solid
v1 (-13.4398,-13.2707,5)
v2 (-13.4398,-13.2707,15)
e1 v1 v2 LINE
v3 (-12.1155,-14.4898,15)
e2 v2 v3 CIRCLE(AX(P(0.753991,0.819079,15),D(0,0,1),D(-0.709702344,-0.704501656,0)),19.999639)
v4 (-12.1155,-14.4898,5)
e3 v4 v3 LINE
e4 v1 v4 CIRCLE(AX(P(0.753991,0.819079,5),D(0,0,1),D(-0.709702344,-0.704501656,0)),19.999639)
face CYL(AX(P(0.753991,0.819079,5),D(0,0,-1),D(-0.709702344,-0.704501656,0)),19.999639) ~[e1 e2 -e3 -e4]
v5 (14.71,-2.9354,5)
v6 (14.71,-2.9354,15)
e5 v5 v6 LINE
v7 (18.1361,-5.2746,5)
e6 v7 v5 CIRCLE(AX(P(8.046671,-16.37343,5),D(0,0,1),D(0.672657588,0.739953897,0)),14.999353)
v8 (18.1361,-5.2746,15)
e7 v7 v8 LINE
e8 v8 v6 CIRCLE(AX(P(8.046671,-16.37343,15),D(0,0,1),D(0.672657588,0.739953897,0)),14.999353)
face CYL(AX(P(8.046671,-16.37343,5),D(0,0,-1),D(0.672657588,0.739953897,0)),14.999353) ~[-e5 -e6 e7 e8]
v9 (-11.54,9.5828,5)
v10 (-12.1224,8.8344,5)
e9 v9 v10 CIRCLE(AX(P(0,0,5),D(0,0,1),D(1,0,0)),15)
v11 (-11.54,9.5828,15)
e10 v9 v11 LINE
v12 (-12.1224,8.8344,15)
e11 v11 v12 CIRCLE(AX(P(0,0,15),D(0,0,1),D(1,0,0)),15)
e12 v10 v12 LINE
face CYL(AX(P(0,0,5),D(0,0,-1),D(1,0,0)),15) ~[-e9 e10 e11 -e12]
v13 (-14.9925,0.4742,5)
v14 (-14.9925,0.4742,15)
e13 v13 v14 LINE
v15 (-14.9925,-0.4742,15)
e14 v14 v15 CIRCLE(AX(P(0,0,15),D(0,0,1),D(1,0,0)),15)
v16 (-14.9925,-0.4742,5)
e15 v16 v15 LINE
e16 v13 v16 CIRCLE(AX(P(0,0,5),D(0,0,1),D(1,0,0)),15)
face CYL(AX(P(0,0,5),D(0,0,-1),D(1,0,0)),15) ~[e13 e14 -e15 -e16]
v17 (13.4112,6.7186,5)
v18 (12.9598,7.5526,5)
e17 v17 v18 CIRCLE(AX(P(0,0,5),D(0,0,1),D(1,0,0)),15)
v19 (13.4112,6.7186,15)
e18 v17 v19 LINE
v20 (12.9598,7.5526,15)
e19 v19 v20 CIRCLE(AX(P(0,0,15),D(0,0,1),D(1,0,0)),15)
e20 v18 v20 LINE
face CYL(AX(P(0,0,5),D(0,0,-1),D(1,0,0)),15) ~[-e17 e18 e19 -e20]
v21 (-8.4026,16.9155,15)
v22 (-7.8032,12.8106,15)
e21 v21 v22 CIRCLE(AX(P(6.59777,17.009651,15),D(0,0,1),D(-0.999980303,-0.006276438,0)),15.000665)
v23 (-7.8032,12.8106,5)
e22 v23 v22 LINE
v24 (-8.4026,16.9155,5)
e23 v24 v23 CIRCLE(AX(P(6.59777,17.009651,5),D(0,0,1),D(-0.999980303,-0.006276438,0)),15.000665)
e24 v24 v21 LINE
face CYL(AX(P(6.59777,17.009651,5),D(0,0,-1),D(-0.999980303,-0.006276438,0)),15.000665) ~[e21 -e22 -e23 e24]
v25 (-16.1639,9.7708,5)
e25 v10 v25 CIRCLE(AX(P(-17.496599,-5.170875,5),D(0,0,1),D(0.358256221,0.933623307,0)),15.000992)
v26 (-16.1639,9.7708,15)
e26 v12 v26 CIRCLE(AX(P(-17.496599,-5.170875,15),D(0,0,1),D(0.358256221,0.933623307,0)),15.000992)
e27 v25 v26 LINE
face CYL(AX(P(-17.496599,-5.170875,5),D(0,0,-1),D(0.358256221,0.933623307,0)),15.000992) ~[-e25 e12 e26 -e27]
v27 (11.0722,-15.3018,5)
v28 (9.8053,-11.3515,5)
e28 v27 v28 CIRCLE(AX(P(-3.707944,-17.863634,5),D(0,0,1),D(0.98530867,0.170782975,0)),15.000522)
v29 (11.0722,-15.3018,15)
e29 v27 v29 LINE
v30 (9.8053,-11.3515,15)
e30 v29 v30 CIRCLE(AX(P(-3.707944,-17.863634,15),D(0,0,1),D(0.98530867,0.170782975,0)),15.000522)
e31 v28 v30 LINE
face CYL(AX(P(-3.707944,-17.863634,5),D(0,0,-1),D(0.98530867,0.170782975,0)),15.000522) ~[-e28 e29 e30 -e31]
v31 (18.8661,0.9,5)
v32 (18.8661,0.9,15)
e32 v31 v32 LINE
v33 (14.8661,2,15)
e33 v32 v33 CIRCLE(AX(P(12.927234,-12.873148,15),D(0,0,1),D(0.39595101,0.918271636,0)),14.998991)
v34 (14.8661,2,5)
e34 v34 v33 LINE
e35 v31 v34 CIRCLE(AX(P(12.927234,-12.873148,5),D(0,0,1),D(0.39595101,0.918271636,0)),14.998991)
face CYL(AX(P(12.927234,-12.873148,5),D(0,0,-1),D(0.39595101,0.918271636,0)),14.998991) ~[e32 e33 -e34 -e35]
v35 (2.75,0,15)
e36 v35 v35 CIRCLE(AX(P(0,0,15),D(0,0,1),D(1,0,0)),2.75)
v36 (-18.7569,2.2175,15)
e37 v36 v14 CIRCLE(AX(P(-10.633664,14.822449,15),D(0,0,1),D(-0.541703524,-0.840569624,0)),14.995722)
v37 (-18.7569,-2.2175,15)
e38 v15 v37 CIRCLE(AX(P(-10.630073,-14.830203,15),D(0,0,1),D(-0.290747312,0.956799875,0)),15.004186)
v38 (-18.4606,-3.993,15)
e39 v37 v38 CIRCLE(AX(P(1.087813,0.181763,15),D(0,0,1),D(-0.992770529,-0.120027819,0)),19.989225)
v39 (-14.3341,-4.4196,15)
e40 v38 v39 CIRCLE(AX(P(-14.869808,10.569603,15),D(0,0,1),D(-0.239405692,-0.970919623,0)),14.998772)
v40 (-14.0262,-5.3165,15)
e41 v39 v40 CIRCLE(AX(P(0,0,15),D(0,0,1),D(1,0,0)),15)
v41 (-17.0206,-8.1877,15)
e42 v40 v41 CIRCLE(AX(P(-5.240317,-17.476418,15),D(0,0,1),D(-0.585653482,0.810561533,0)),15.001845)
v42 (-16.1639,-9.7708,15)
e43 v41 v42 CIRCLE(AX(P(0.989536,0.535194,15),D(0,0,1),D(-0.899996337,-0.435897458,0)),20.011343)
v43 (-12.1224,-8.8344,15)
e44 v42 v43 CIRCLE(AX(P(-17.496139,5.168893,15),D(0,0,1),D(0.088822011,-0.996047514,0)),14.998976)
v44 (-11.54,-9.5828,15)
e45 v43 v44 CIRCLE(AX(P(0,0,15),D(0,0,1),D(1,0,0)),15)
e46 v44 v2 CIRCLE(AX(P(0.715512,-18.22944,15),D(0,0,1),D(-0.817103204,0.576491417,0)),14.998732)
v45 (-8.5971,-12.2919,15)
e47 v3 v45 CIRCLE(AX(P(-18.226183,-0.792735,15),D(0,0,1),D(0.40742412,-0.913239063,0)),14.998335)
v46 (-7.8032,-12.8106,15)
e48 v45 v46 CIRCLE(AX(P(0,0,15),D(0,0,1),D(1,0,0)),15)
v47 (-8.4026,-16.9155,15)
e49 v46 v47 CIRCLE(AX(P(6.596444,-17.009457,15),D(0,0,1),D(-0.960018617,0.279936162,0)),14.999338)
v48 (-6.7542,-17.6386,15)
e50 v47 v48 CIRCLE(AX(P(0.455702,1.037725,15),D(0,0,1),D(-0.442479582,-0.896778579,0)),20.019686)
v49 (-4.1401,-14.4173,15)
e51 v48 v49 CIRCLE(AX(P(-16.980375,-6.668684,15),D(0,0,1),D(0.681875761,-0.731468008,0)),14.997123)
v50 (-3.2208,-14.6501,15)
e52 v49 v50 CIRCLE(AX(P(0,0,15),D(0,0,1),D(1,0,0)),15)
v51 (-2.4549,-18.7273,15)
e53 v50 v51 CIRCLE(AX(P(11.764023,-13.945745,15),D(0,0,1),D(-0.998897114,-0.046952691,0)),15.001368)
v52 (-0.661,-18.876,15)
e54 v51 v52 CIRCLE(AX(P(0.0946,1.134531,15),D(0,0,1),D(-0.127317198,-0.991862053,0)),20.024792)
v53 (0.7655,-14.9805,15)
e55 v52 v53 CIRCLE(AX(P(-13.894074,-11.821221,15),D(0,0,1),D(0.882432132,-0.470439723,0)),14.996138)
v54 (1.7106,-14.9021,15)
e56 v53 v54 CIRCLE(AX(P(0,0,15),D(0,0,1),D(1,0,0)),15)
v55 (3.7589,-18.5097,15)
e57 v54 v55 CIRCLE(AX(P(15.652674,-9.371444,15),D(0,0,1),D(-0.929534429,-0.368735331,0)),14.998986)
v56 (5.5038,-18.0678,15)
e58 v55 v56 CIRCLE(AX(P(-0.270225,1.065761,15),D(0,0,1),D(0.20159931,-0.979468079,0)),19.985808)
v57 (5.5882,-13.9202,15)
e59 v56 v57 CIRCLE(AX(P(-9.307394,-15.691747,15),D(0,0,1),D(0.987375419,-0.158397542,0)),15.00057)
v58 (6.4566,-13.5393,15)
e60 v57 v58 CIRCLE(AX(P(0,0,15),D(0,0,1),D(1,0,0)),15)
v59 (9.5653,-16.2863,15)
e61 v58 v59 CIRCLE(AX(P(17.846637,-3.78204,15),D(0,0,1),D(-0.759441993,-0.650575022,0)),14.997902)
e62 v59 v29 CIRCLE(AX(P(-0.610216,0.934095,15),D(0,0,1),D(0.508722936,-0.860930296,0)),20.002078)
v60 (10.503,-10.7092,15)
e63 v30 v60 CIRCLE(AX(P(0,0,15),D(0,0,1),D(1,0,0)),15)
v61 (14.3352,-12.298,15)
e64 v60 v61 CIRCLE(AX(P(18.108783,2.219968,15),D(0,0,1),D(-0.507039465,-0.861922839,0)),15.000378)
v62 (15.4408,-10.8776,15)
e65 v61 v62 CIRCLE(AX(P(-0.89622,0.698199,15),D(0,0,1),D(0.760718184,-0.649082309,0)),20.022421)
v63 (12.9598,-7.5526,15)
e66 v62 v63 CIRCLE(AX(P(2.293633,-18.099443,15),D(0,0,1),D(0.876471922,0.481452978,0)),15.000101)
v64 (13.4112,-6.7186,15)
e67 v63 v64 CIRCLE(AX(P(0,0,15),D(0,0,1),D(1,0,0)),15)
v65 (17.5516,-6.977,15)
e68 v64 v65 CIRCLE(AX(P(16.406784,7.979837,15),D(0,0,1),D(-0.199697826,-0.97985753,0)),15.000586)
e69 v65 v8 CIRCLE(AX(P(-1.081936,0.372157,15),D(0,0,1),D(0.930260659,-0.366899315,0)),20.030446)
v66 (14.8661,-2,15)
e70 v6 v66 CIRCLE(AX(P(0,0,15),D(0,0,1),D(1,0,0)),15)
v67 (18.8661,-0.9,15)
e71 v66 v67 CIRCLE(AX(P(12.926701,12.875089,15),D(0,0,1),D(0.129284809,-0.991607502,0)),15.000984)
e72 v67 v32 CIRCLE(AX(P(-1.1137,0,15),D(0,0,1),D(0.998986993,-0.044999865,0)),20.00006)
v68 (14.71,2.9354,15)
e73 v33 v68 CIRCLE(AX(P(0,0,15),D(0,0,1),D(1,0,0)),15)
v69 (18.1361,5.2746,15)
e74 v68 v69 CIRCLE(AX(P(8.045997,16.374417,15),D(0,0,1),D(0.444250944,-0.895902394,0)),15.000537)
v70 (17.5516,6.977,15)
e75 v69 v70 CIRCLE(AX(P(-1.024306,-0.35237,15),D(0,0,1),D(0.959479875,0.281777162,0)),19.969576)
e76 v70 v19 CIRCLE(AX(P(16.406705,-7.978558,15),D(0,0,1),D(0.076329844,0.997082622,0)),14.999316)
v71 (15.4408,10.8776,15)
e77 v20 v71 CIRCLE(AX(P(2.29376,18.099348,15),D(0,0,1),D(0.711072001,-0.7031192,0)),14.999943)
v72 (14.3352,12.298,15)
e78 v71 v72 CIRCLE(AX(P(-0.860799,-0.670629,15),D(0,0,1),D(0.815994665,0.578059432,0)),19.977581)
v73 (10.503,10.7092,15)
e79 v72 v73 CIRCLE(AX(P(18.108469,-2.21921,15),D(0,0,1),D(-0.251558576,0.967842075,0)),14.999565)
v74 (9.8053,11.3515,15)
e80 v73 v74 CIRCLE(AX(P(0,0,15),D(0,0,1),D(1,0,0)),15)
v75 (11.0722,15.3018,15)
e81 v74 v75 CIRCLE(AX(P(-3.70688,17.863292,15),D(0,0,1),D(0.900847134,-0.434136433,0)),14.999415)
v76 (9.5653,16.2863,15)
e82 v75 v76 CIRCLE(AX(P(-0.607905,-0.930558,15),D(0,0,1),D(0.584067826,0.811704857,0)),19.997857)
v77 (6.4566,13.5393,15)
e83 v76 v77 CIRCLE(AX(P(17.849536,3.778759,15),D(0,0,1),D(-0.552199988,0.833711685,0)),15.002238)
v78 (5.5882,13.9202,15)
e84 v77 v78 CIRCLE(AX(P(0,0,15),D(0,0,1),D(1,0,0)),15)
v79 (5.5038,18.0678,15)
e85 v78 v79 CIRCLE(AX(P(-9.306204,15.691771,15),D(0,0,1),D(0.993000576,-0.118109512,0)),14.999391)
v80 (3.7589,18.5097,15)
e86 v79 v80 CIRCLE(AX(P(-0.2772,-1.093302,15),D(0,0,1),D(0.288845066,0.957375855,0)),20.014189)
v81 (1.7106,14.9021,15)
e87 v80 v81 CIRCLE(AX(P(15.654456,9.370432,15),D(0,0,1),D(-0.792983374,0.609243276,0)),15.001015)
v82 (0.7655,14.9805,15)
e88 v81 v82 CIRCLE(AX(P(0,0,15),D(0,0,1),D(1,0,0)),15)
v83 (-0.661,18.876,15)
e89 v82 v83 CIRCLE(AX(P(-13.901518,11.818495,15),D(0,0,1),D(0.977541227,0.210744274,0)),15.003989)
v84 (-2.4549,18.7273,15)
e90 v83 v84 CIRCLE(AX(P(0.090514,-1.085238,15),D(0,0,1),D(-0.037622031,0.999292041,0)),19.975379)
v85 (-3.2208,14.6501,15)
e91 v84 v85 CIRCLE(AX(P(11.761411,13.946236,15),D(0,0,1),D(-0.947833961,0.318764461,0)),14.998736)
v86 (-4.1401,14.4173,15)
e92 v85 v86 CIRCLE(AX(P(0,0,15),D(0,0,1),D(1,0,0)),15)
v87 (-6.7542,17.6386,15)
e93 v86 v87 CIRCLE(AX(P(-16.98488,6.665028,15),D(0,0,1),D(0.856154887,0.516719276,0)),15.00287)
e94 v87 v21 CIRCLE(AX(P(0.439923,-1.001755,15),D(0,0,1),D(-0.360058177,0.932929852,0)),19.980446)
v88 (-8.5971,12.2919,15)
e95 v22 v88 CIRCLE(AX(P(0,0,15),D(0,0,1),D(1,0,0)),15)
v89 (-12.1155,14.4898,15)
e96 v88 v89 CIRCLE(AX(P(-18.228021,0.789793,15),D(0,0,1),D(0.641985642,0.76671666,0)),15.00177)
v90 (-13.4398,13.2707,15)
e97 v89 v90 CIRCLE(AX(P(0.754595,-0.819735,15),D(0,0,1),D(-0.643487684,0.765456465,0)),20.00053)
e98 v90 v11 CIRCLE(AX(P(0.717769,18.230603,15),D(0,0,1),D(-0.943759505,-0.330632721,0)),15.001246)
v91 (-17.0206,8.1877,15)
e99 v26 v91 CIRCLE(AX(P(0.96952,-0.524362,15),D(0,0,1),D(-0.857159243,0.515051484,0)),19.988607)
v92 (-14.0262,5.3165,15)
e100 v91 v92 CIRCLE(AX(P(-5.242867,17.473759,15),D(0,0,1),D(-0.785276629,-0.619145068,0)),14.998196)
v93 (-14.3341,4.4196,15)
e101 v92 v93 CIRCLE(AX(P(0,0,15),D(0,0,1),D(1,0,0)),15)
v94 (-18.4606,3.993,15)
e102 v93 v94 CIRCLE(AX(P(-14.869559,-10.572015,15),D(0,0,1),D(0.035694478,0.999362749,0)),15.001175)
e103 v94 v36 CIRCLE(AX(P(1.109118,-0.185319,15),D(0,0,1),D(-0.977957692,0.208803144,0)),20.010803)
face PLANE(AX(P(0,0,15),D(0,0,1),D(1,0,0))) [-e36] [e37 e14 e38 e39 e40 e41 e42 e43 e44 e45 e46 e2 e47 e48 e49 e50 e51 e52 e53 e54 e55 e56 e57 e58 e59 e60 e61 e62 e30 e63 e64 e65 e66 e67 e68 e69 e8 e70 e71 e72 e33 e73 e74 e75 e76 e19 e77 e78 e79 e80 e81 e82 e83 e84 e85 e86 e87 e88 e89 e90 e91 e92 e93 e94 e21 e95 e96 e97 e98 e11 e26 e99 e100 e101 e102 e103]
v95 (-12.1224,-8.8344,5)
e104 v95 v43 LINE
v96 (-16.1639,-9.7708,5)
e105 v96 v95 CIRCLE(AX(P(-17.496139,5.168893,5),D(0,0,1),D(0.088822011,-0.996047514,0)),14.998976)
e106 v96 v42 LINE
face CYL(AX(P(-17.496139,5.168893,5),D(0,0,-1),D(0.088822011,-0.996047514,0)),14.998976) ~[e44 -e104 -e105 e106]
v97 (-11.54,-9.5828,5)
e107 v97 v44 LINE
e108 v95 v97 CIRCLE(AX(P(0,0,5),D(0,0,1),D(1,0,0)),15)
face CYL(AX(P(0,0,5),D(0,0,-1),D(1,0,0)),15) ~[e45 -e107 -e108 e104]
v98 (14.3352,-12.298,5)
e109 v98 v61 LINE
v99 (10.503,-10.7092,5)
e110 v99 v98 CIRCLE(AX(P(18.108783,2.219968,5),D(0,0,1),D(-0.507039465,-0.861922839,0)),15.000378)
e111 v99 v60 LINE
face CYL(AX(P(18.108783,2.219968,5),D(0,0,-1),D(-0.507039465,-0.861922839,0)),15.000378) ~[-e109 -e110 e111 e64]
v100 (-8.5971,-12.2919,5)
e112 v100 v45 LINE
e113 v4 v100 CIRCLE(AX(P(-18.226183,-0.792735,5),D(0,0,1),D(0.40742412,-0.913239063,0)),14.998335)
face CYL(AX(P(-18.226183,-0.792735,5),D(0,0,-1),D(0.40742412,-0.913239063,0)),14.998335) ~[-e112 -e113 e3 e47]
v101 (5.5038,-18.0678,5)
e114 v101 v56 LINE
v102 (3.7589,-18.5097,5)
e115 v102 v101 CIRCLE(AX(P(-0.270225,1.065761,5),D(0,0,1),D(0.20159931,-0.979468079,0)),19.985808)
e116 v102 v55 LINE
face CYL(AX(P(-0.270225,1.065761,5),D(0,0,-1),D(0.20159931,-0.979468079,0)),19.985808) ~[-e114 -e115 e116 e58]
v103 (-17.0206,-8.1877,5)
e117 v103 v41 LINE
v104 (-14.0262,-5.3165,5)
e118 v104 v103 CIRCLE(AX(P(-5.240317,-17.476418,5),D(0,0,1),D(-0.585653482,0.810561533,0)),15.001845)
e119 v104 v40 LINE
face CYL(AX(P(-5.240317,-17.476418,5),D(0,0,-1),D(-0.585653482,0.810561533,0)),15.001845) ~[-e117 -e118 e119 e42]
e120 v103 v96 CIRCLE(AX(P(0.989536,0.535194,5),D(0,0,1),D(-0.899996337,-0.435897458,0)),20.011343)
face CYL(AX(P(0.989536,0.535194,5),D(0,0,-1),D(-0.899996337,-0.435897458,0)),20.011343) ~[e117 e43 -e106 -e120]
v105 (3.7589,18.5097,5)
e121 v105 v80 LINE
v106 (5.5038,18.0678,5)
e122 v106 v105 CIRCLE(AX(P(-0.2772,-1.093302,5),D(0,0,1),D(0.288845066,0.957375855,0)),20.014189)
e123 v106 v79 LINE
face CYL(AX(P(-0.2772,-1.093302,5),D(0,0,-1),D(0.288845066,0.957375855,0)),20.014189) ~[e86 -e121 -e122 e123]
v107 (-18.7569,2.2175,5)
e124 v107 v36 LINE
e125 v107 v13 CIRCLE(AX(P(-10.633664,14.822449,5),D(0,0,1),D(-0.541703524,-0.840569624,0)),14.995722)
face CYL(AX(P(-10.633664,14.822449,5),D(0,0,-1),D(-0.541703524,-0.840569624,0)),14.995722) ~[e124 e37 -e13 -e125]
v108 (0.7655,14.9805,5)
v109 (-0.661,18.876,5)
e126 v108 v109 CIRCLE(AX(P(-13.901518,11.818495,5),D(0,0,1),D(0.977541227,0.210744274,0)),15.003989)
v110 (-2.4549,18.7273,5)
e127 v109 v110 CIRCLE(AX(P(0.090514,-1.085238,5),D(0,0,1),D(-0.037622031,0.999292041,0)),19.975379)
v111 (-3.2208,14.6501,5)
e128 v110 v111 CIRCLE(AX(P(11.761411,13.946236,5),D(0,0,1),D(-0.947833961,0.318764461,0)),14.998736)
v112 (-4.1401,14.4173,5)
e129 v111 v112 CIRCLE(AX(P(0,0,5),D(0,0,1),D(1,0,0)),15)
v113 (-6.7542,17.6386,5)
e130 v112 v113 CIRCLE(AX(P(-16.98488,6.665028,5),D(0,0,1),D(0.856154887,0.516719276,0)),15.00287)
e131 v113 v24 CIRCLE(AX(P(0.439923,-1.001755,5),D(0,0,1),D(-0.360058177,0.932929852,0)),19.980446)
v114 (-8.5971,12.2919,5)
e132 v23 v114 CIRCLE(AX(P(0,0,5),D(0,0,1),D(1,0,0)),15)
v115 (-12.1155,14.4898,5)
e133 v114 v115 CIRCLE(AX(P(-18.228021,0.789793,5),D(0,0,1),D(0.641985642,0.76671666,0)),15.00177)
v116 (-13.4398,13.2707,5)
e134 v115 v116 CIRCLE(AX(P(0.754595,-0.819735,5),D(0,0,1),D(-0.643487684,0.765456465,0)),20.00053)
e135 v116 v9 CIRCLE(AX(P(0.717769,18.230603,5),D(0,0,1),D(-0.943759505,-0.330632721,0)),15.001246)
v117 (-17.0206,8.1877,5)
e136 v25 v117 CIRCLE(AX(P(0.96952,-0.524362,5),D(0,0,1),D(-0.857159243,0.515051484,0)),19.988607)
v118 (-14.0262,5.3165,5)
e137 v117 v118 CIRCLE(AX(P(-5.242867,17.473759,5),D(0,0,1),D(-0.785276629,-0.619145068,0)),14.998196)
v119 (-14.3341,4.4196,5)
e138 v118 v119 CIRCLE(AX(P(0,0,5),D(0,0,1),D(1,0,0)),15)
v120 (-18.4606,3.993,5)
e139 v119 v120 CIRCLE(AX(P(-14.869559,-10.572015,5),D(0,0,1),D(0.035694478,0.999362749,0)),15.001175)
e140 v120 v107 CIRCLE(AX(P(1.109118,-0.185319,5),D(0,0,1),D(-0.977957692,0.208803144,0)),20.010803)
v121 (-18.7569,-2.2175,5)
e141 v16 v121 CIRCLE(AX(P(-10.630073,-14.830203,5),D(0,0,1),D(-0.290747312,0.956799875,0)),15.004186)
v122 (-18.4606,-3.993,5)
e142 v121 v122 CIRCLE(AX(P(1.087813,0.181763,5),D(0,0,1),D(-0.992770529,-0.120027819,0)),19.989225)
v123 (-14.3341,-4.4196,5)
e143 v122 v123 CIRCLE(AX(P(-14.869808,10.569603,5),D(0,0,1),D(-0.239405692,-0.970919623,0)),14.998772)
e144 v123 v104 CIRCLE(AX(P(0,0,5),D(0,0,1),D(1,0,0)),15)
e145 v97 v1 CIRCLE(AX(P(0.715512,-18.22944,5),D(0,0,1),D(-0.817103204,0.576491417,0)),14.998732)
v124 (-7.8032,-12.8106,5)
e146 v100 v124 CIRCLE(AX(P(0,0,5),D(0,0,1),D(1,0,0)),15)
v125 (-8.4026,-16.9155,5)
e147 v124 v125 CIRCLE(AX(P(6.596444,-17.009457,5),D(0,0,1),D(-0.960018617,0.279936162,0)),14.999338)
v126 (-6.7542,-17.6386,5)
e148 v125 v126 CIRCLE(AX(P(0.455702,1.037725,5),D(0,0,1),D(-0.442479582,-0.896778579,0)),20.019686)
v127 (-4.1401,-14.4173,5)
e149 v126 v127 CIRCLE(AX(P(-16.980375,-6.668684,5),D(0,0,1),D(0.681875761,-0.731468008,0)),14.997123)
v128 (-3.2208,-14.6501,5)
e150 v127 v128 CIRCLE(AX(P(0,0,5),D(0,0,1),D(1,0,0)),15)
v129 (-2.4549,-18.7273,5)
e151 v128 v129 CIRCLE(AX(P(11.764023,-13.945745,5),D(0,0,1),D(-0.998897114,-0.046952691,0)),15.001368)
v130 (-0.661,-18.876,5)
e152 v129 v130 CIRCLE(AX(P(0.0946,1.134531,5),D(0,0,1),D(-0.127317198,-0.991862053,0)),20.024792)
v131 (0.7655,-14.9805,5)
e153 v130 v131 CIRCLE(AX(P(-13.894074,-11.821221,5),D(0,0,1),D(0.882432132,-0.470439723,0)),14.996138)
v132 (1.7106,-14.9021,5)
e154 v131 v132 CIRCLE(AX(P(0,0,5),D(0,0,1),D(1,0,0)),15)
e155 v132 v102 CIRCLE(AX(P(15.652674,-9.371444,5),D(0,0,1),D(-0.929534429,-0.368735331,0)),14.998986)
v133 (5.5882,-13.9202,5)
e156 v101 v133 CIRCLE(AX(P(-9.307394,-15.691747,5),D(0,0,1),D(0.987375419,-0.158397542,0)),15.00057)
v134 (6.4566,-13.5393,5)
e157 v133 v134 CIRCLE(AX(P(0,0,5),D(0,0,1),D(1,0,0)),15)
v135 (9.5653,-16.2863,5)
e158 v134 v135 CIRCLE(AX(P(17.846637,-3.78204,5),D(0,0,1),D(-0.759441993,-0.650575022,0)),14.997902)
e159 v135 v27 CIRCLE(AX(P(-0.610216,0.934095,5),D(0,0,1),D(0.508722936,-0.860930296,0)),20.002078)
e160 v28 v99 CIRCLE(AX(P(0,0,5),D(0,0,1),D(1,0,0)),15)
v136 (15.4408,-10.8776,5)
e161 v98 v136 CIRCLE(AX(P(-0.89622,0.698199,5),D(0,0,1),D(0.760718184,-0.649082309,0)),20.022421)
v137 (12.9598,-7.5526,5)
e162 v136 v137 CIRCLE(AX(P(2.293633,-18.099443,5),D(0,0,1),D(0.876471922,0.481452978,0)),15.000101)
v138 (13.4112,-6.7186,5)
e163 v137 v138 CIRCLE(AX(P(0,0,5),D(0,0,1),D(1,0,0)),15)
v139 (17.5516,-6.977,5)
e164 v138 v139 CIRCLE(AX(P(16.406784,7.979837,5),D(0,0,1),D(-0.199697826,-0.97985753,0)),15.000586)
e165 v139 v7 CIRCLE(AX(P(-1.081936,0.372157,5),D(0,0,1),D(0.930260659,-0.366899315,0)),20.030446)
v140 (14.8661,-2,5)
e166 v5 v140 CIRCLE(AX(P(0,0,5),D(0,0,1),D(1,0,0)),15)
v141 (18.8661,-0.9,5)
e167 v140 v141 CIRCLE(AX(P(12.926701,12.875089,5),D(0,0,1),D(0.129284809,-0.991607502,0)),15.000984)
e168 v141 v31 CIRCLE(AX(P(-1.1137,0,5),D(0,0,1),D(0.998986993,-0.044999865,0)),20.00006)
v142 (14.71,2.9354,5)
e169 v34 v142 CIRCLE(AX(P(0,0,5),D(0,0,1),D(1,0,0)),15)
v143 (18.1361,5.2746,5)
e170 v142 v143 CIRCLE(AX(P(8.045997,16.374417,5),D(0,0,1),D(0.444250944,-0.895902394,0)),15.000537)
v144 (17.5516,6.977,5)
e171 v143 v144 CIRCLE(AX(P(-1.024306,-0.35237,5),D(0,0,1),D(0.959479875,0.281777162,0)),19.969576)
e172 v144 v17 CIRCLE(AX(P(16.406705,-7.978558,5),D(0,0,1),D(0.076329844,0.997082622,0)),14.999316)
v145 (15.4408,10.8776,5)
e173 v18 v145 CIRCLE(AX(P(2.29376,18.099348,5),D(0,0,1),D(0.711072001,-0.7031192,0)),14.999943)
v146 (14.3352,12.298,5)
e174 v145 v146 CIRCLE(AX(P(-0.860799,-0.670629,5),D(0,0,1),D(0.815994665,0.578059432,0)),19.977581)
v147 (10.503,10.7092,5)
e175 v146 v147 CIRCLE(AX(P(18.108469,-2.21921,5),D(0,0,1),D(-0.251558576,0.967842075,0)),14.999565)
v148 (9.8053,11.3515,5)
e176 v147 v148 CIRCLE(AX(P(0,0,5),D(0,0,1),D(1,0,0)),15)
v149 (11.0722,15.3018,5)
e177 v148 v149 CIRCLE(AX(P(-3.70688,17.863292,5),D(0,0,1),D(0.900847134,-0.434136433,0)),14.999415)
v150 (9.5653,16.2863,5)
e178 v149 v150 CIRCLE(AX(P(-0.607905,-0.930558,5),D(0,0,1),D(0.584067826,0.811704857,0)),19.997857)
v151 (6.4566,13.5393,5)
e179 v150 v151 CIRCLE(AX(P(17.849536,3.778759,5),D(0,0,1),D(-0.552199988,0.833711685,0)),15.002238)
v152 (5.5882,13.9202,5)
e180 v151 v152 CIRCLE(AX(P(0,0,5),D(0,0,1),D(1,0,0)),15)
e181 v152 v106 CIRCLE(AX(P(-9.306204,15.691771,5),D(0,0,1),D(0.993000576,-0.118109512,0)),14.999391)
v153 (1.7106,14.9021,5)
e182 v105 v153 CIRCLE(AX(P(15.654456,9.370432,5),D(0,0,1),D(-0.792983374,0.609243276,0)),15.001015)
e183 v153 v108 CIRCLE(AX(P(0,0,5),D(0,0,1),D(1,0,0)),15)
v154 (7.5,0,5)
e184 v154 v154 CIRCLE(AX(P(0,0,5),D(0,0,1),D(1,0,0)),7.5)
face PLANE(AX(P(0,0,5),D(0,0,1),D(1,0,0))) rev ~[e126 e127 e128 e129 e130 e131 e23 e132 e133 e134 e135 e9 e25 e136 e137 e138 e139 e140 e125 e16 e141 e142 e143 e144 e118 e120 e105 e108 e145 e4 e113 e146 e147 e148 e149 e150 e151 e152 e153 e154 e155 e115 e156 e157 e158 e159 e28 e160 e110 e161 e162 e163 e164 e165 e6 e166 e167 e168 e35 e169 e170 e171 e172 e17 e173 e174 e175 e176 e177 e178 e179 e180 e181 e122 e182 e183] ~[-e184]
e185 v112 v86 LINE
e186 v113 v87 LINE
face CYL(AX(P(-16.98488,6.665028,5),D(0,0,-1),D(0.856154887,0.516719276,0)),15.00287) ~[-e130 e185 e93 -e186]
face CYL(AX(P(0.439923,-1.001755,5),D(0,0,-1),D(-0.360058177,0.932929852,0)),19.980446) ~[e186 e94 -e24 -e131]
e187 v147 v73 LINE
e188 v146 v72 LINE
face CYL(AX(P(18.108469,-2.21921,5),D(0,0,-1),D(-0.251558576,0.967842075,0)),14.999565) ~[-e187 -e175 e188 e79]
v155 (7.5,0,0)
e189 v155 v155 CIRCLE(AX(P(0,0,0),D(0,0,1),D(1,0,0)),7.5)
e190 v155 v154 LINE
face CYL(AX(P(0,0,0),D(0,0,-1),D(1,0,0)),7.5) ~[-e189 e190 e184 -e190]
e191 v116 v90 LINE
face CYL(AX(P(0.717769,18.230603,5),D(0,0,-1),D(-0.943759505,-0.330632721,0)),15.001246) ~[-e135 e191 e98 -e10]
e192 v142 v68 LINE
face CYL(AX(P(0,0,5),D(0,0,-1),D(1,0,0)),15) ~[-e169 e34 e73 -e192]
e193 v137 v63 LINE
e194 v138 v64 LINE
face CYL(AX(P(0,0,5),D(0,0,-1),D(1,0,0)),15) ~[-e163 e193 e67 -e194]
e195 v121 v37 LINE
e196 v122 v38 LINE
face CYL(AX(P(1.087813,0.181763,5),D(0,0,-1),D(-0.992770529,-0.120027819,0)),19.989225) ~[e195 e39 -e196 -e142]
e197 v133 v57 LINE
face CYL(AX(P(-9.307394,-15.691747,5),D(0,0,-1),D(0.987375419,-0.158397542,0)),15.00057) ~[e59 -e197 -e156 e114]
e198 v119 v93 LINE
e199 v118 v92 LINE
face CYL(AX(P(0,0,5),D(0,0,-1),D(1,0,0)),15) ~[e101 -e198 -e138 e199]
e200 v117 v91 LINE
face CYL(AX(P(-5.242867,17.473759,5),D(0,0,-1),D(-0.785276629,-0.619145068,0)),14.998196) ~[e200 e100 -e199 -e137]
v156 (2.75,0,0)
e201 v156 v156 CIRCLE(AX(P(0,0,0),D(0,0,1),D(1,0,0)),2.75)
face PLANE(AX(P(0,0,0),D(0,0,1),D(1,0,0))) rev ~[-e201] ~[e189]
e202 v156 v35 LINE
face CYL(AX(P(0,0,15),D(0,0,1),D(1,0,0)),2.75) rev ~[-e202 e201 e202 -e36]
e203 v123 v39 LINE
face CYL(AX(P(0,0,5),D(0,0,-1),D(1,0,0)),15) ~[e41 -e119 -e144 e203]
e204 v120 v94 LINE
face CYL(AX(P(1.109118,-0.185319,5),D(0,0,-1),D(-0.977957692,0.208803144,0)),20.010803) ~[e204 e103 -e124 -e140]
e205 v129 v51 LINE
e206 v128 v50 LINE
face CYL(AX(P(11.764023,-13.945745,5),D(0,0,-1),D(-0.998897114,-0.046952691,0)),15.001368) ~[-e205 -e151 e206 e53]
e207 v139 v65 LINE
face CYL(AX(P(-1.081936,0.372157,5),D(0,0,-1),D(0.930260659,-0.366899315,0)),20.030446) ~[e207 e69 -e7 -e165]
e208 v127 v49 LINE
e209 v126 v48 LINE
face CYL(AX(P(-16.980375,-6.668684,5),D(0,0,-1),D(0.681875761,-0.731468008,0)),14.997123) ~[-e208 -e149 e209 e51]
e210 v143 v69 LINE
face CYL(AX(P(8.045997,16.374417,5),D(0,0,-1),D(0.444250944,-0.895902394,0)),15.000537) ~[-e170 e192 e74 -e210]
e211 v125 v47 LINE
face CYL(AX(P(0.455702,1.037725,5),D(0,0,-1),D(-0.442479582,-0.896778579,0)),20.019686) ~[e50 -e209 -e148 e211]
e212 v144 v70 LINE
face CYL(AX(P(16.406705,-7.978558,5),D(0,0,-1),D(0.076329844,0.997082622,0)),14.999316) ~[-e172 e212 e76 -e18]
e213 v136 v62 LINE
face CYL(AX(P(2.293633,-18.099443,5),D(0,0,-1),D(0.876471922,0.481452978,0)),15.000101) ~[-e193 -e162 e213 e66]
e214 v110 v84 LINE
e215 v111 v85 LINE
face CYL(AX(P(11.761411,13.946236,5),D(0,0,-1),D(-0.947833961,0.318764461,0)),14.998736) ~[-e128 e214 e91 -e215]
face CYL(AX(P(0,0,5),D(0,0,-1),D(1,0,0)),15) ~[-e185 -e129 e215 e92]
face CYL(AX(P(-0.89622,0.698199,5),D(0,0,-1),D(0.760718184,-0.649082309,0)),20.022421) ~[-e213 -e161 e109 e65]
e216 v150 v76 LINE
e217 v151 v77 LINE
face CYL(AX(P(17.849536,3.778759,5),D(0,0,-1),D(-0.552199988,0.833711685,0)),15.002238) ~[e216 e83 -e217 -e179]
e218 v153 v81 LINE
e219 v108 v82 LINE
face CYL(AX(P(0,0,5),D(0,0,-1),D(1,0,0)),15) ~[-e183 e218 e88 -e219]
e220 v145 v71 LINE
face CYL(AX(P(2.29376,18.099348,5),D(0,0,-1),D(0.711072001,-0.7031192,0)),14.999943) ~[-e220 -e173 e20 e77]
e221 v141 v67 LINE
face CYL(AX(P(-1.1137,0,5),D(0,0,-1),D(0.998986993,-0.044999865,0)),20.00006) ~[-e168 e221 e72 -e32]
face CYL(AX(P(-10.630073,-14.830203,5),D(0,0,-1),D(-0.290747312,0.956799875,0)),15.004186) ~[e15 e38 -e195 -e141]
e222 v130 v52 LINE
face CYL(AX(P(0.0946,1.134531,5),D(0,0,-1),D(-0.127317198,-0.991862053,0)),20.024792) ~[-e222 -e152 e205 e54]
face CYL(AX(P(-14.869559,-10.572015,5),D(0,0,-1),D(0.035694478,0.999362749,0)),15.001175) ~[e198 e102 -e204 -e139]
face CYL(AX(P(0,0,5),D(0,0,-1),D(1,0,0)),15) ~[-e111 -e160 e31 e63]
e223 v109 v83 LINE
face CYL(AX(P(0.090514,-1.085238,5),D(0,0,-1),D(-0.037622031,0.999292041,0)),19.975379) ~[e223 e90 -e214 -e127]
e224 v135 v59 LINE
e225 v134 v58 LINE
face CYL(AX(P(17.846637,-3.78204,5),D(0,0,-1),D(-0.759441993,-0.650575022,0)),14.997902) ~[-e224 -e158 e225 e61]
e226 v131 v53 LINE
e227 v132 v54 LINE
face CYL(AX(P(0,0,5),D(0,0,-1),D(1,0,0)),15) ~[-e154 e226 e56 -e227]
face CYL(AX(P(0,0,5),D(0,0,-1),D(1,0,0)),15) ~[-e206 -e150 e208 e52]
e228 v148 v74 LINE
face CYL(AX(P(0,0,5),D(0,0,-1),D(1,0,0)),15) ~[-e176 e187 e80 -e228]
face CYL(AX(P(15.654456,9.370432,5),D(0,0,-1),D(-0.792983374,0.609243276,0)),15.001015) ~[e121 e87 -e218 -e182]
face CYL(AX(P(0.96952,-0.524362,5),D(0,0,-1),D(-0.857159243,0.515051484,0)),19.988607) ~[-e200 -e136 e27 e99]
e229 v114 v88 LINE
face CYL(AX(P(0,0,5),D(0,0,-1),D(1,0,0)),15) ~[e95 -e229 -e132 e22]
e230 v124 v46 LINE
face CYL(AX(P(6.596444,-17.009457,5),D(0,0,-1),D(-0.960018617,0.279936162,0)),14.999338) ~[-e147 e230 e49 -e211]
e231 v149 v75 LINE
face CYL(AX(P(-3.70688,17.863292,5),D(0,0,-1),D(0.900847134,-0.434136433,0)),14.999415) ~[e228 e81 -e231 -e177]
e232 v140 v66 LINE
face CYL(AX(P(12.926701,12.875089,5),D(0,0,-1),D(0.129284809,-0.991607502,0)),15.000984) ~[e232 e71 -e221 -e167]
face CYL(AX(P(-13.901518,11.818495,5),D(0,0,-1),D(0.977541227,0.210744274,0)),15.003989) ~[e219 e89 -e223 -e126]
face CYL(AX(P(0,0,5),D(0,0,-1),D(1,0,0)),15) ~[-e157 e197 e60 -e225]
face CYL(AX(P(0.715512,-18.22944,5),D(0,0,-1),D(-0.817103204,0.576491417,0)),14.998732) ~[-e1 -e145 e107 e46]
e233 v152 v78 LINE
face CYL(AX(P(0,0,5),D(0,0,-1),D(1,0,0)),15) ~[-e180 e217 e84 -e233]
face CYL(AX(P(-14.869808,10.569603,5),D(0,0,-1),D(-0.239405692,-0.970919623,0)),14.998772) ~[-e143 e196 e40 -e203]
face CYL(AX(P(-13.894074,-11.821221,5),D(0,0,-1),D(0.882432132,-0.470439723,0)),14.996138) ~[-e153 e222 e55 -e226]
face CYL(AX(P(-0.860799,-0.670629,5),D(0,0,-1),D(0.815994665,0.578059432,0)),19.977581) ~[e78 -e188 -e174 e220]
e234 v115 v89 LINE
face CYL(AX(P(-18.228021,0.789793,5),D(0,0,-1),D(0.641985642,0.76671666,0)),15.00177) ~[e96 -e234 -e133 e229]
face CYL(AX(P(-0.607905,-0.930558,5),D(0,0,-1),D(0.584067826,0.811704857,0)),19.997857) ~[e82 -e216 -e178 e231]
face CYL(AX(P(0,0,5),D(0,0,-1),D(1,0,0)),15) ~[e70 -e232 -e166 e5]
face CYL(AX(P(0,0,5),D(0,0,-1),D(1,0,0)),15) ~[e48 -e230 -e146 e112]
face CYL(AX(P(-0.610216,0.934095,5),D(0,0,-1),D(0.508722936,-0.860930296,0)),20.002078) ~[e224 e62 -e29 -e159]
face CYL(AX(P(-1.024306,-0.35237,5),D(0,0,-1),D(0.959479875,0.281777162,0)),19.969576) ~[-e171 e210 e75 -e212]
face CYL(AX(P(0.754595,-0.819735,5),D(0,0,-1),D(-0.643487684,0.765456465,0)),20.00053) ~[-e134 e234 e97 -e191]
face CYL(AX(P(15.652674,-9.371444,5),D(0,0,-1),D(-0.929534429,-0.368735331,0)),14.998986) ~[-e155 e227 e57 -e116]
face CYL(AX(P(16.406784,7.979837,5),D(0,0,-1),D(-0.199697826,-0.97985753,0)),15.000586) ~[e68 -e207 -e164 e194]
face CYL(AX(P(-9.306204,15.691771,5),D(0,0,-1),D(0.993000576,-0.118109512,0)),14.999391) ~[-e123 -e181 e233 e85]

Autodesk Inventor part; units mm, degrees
ref_plane "YZ Plane" through (0, 0, 0) normal (1, 0, 0) x (0, 1, 0)
ref_plane "XZ Plane" through (0, 0, 0) normal (0, 1, 0) x (-1, 0, 0)
ref_plane "XY Plane" through (0, 0, 0) normal (0, 0, 1) x (1, 0, 0)
sketch "Sketch1" plane through (0, 0, 0) normal (0, 0, 1) x (1, 0, 0)
  circle A0 centre (0, 0) radius 7.5
  circle A1 centre (0, 0) radius 2.75
  dimension "d0" = 15
  dimension "d1" = 5.5
extrude "Extrusion1" add sketch "Sketch1" along normal blind 5
sketch "Sketch2" plane through (0, 0, 5) normal (0, 0, 1) x (1, 0, 0)
  circle A0 centre (0, 0) radius 15
  arc A1 (18.8661, 0.9) -> (14.8661, 2) centre (12.9269, -12.8741) ccw
  arc A2 (18.8661, -0.9) -> (18.8661, 0.9) centre (-1.1137, 0) ccw
  line L0 (0, 0) -> (23.4972, 0) construction
  arc A3 (14.8661, -2) -> (18.8661, -0.9) centre (12.9269, 12.8741) ccw
  arc A4 (14.8661, -2) -> (14.8661, 2) centre (0, 0) ccw
  arc A5 (17.5516, 6.977) -> (13.4112, 6.7186) centre (16.4067, -7.9792) ccw
  arc A6 (18.1361, 5.2746) -> (17.5516, 6.977) centre (-1.0533, -0.3616) ccw
  arc A7 (14.71, 2.9354) -> (18.1361, 5.2746) centre (8.0463, 16.3739) ccw
  arc A8 (14.71, 2.9354) -> (13.4112, 6.7186) centre (0, 0) ccw
  arc A9 (14.3352, 12.298) -> (10.503, 10.7092) centre (18.1086, -2.2196) ccw
  arc A10 (15.4408, 10.8776) -> (14.3352, 12.298) centre (-0.8788, -0.684) ccw
  arc A11 (12.9598, 7.5526) -> (15.4408, 10.8776) centre (2.2937, 18.0994) ccw
  arc A12 (12.9598, 7.5526) -> (10.503, 10.7092) centre (0, 0) ccw
  arc A13 (9.5653, 16.2863) -> (6.4566, 13.5393) centre (17.8482, 3.7805) ccw
  arc A14 (11.0722, 15.3018) -> (9.5653, 16.2863) centre (-0.6091, -0.9323) ccw
  arc A15 (9.8053, 11.3515) -> (11.0722, 15.3018) centre (-3.7074, 17.8635) ccw
  arc A16 (9.8053, 11.3515) -> (6.4566, 13.5393) centre (0, 0) ccw
  arc A17 (3.7589, 18.5097) -> (1.7106, 14.9021) centre (15.6536, 9.371) ccw
  arc A18 (5.5038, 18.0678) -> (3.7589, 18.5097) centre (-0.2734, -1.0796) ccw
  arc A19 (5.5882, 13.9202) -> (5.5038, 18.0678) centre (-9.3068, 15.6918) ccw
  arc A20 (5.5882, 13.9202) -> (1.7106, 14.9021) centre (0, 0) ccw
  arc A21 (-2.4549, 18.7273) -> (-3.2208, 14.6501) centre (11.7627, 13.9459) ccw
  arc A22 (-0.661, 18.876) -> (-2.4549, 18.7273) centre (0.092, -1.1099) ccw
  arc A23 (0.7655, 14.9805) -> (-0.661, 18.876) centre (-13.8977, 11.8196) ccw
  arc A24 (0.7655, 14.9805) -> (-3.2208, 14.6501) centre (0, 0) ccw
  arc A25 (-8.4026, 16.9155) -> (-7.8032, 12.8106) centre (6.5971, 17.0096) ccw
  arc A26 (-6.7542, 17.6386) -> (-8.4026, 16.9155) centre (0.4474, -1.0199) ccw
  arc A27 (-4.1401, 14.4173) -> (-6.7542, 17.6386) centre (-16.9825, 6.6667) ccw
  arc A28 (-4.1401, 14.4173) -> (-7.8032, 12.8106) centre (0, 0) ccw
  arc A29 (-13.4398, 13.2707) -> (-11.54, 9.5828) centre (0.7166, 18.2301) ccw
  arc A30 (-12.1155, 14.4898) -> (-13.4398, 13.2707) centre (0.7543, -0.8194) ccw
  arc A31 (-8.5971, 12.2919) -> (-12.1155, 14.4898) centre (-18.227, 0.7912) ccw
  arc A32 (-8.5971, 12.2919) -> (-11.54, 9.5828) centre (0, 0) ccw
  arc A33 (-17.0206, 8.1877) -> (-14.0262, 5.3165) centre (-5.2415, 17.475) ccw
  arc A34 (-16.1639, 9.7708) -> (-17.0206, 8.1877) centre (0.9794, -0.53) ccw
  arc A35 (-12.1224, 8.8344) -> (-16.1639, 9.7708) centre (-17.4963, -5.1699) ccw
  arc A36 (-12.1224, 8.8344) -> (-14.0262, 5.3165) centre (0, 0) ccw
  arc A37 (-18.7569, 2.2175) -> (-14.9925, 0.4742) centre (-10.6316, 14.8262) ccw
  arc A38 (-18.4606, 3.993) -> (-18.7569, 2.2175) centre (1.0985, -0.1833) ccw
  arc A39 (-14.3341, 4.4196) -> (-18.4606, 3.993) centre (-14.8696, -10.5708) ccw
  arc A40 (-14.3341, 4.4196) -> (-14.9925, 0.4742) centre (0, 0) ccw
  arc A41 (-18.4606, -3.993) -> (-14.3341, -4.4196) centre (-14.8696, 10.5708) ccw
  arc A42 (-18.7569, -2.2175) -> (-18.4606, -3.993) centre (1.0985, 0.1833) ccw
  arc A43 (-14.9925, -0.4742) -> (-18.7569, -2.2175) centre (-10.6316, -14.8262) ccw
  arc A44 (-14.9925, -0.4742) -> (-14.3341, -4.4196) centre (0, 0) ccw
  arc A45 (-16.1639, -9.7708) -> (-12.1224, -8.8344) centre (-17.4963, 5.1699) ccw
  arc A46 (-17.0206, -8.1877) -> (-16.1639, -9.7708) centre (0.9794, 0.53) ccw
  arc A47 (-14.0262, -5.3165) -> (-17.0206, -8.1877) centre (-5.2415, -17.475) ccw
  arc A48 (-14.0262, -5.3165) -> (-12.1224, -8.8344) centre (0, 0) ccw
  arc A49 (-12.1155, -14.4898) -> (-8.5971, -12.2919) centre (-18.227, -0.7912) ccw
  arc A50 (-13.4398, -13.2707) -> (-12.1155, -14.4898) centre (0.7543, 0.8194) ccw
  arc A51 (-11.54, -9.5828) -> (-13.4398, -13.2707) centre (0.7166, -18.2301) ccw
  arc A52 (-11.54, -9.5828) -> (-8.5971, -12.2919) centre (0, 0) ccw
  arc A53 (-6.7542, -17.6386) -> (-4.1401, -14.4173) centre (-16.9825, -6.6667) ccw
  arc A54 (-8.4026, -16.9155) -> (-6.7542, -17.6386) centre (0.4474, 1.0199) ccw
  arc A55 (-7.8032, -12.8106) -> (-8.4026, -16.9155) centre (6.5971, -17.0096) ccw
  arc A56 (-7.8032, -12.8106) -> (-4.1401, -14.4173) centre (0, 0) ccw
  arc A57 (-0.661, -18.876) -> (0.7655, -14.9805) centre (-13.8977, -11.8196) ccw
  arc A58 (-2.4549, -18.7273) -> (-0.661, -18.876) centre (0.092, 1.1099) ccw
  arc A59 (-3.2208, -14.6501) -> (-2.4549, -18.7273) centre (11.7627, -13.9459) ccw
  arc A60 (-3.2208, -14.6501) -> (0.7655, -14.9805) centre (0, 0) ccw
  arc A61 (5.5038, -18.0678) -> (5.5882, -13.9202) centre (-9.3068, -15.6918) ccw
  arc A62 (3.7589, -18.5097) -> (5.5038, -18.0678) centre (-0.2734, 1.0796) ccw
  arc A63 (1.7106, -14.9021) -> (3.7589, -18.5097) centre (15.6536, -9.371) ccw
  arc A64 (1.7106, -14.9021) -> (5.5882, -13.9202) centre (0, 0) ccw
  arc A65 (11.0722, -15.3018) -> (9.8053, -11.3515) centre (-3.7074, -17.8635) ccw
  arc A66 (9.5653, -16.2863) -> (11.0722, -15.3018) centre (-0.6091, 0.9323) ccw
  arc A67 (6.4566, -13.5393) -> (9.5653, -16.2863) centre (17.8482, -3.7805) ccw
  arc A68 (6.4566, -13.5393) -> (9.8053, -11.3515) centre (0, 0) ccw
  arc A69 (15.4408, -10.8776) -> (12.9598, -7.5526) centre (2.2937, -18.0994) ccw
  arc A70 (14.3352, -12.298) -> (15.4408, -10.8776) centre (-0.8788, 0.684) ccw
  arc A71 (10.503, -10.7092) -> (14.3352, -12.298) centre (18.1086, 2.2196) ccw
  arc A72 (10.503, -10.7092) -> (12.9598, -7.5526) centre (0, 0) ccw
  arc A73 (18.1361, -5.2746) -> (14.71, -2.9354) centre (8.0463, -16.3739) ccw
  arc A74 (17.5516, -6.977) -> (18.1361, -5.2746) centre (-1.0533, 0.3616) ccw
  arc A75 (13.4112, -6.7186) -> (17.5516, -6.977) centre (16.4067, 7.9792) ccw
  arc A76 (13.4112, -6.7186) -> (14.71, -2.9354) centre (0, 0) ccw
  circle A77 centre (0, 0) radius 2.75
  point P0 (18.8863, 0)
  point P1 (17.863, 6.1324)
  point P2 (14.904, 11.6002)
  point P3 (10.3298, 15.811)
  point P4 (4.6363, 18.3084)
  point P5 (-1.5596, 18.8218)
  point P6 (-7.5866, 17.2956)
  point P7 (-12.7914, 13.8951)
  point P8 (-16.61, 8.9889)
  point P9 (-18.6287, 3.1086)
  point P10 (-18.6287, -3.1086)
  point P11 (-16.61, -8.9889)
  point P12 (-12.7914, -13.8951)
  point P13 (-7.5866, -17.2956)
  point P14 (-1.5596, -18.8218)
  point P15 (4.6363, -18.3084)
  point P16 (10.3298, -15.811)
  point P17 (14.904, -11.6002)
  point P18 (17.863, -6.1324)
  dimension "d4" = 30
  dimension "d5" = 15
  dimension "d6" = 4
  dimension "d7" = 1.8
  dimension "d8" = 20
  dimension "d10" = 2
  dimension "d11" = 15
  dimension "d12" = 4
  dimension "d13" = 2
  dimension "d16" = 360
extrude "Extrusion2" add sketch "Sketch2" along normal blind 10 contours A0 | A0 A1 A2 A3 | A0 A5 A6 A7 | A73 A74 A75 A0 | A0 A9 A10 A11 | A69 A70 A71 A0 | A0 A13 A14 A15 | A65 A66 A67 A0 | A0 A17 A18 A19 | A61 A62 A63 A0 | A0 A21 A22 A23 | A57 A58 A59 A0 | A0 A25 A26 A27 | A53 A54 A55 A0 | A0 A29 A30 A31 | A49 A50 A51 A0 | A0 A33 A34 A35 | A45 A46 A47 A0 | A0 A37 A38 A39 | A41 A42 A43 A0 | A77
sketch "Sketch3" plane through (0, 0, 15) normal (0, 0, 1) x (1, 0, 0)
  circle A0 centre (0, 0) radius 2.75
  dimension "d22" = 5.5
extrude "Extrusion3" cut sketch "Sketch3" against normal through all
properties part number "BA009" material "ABS Plastic"
